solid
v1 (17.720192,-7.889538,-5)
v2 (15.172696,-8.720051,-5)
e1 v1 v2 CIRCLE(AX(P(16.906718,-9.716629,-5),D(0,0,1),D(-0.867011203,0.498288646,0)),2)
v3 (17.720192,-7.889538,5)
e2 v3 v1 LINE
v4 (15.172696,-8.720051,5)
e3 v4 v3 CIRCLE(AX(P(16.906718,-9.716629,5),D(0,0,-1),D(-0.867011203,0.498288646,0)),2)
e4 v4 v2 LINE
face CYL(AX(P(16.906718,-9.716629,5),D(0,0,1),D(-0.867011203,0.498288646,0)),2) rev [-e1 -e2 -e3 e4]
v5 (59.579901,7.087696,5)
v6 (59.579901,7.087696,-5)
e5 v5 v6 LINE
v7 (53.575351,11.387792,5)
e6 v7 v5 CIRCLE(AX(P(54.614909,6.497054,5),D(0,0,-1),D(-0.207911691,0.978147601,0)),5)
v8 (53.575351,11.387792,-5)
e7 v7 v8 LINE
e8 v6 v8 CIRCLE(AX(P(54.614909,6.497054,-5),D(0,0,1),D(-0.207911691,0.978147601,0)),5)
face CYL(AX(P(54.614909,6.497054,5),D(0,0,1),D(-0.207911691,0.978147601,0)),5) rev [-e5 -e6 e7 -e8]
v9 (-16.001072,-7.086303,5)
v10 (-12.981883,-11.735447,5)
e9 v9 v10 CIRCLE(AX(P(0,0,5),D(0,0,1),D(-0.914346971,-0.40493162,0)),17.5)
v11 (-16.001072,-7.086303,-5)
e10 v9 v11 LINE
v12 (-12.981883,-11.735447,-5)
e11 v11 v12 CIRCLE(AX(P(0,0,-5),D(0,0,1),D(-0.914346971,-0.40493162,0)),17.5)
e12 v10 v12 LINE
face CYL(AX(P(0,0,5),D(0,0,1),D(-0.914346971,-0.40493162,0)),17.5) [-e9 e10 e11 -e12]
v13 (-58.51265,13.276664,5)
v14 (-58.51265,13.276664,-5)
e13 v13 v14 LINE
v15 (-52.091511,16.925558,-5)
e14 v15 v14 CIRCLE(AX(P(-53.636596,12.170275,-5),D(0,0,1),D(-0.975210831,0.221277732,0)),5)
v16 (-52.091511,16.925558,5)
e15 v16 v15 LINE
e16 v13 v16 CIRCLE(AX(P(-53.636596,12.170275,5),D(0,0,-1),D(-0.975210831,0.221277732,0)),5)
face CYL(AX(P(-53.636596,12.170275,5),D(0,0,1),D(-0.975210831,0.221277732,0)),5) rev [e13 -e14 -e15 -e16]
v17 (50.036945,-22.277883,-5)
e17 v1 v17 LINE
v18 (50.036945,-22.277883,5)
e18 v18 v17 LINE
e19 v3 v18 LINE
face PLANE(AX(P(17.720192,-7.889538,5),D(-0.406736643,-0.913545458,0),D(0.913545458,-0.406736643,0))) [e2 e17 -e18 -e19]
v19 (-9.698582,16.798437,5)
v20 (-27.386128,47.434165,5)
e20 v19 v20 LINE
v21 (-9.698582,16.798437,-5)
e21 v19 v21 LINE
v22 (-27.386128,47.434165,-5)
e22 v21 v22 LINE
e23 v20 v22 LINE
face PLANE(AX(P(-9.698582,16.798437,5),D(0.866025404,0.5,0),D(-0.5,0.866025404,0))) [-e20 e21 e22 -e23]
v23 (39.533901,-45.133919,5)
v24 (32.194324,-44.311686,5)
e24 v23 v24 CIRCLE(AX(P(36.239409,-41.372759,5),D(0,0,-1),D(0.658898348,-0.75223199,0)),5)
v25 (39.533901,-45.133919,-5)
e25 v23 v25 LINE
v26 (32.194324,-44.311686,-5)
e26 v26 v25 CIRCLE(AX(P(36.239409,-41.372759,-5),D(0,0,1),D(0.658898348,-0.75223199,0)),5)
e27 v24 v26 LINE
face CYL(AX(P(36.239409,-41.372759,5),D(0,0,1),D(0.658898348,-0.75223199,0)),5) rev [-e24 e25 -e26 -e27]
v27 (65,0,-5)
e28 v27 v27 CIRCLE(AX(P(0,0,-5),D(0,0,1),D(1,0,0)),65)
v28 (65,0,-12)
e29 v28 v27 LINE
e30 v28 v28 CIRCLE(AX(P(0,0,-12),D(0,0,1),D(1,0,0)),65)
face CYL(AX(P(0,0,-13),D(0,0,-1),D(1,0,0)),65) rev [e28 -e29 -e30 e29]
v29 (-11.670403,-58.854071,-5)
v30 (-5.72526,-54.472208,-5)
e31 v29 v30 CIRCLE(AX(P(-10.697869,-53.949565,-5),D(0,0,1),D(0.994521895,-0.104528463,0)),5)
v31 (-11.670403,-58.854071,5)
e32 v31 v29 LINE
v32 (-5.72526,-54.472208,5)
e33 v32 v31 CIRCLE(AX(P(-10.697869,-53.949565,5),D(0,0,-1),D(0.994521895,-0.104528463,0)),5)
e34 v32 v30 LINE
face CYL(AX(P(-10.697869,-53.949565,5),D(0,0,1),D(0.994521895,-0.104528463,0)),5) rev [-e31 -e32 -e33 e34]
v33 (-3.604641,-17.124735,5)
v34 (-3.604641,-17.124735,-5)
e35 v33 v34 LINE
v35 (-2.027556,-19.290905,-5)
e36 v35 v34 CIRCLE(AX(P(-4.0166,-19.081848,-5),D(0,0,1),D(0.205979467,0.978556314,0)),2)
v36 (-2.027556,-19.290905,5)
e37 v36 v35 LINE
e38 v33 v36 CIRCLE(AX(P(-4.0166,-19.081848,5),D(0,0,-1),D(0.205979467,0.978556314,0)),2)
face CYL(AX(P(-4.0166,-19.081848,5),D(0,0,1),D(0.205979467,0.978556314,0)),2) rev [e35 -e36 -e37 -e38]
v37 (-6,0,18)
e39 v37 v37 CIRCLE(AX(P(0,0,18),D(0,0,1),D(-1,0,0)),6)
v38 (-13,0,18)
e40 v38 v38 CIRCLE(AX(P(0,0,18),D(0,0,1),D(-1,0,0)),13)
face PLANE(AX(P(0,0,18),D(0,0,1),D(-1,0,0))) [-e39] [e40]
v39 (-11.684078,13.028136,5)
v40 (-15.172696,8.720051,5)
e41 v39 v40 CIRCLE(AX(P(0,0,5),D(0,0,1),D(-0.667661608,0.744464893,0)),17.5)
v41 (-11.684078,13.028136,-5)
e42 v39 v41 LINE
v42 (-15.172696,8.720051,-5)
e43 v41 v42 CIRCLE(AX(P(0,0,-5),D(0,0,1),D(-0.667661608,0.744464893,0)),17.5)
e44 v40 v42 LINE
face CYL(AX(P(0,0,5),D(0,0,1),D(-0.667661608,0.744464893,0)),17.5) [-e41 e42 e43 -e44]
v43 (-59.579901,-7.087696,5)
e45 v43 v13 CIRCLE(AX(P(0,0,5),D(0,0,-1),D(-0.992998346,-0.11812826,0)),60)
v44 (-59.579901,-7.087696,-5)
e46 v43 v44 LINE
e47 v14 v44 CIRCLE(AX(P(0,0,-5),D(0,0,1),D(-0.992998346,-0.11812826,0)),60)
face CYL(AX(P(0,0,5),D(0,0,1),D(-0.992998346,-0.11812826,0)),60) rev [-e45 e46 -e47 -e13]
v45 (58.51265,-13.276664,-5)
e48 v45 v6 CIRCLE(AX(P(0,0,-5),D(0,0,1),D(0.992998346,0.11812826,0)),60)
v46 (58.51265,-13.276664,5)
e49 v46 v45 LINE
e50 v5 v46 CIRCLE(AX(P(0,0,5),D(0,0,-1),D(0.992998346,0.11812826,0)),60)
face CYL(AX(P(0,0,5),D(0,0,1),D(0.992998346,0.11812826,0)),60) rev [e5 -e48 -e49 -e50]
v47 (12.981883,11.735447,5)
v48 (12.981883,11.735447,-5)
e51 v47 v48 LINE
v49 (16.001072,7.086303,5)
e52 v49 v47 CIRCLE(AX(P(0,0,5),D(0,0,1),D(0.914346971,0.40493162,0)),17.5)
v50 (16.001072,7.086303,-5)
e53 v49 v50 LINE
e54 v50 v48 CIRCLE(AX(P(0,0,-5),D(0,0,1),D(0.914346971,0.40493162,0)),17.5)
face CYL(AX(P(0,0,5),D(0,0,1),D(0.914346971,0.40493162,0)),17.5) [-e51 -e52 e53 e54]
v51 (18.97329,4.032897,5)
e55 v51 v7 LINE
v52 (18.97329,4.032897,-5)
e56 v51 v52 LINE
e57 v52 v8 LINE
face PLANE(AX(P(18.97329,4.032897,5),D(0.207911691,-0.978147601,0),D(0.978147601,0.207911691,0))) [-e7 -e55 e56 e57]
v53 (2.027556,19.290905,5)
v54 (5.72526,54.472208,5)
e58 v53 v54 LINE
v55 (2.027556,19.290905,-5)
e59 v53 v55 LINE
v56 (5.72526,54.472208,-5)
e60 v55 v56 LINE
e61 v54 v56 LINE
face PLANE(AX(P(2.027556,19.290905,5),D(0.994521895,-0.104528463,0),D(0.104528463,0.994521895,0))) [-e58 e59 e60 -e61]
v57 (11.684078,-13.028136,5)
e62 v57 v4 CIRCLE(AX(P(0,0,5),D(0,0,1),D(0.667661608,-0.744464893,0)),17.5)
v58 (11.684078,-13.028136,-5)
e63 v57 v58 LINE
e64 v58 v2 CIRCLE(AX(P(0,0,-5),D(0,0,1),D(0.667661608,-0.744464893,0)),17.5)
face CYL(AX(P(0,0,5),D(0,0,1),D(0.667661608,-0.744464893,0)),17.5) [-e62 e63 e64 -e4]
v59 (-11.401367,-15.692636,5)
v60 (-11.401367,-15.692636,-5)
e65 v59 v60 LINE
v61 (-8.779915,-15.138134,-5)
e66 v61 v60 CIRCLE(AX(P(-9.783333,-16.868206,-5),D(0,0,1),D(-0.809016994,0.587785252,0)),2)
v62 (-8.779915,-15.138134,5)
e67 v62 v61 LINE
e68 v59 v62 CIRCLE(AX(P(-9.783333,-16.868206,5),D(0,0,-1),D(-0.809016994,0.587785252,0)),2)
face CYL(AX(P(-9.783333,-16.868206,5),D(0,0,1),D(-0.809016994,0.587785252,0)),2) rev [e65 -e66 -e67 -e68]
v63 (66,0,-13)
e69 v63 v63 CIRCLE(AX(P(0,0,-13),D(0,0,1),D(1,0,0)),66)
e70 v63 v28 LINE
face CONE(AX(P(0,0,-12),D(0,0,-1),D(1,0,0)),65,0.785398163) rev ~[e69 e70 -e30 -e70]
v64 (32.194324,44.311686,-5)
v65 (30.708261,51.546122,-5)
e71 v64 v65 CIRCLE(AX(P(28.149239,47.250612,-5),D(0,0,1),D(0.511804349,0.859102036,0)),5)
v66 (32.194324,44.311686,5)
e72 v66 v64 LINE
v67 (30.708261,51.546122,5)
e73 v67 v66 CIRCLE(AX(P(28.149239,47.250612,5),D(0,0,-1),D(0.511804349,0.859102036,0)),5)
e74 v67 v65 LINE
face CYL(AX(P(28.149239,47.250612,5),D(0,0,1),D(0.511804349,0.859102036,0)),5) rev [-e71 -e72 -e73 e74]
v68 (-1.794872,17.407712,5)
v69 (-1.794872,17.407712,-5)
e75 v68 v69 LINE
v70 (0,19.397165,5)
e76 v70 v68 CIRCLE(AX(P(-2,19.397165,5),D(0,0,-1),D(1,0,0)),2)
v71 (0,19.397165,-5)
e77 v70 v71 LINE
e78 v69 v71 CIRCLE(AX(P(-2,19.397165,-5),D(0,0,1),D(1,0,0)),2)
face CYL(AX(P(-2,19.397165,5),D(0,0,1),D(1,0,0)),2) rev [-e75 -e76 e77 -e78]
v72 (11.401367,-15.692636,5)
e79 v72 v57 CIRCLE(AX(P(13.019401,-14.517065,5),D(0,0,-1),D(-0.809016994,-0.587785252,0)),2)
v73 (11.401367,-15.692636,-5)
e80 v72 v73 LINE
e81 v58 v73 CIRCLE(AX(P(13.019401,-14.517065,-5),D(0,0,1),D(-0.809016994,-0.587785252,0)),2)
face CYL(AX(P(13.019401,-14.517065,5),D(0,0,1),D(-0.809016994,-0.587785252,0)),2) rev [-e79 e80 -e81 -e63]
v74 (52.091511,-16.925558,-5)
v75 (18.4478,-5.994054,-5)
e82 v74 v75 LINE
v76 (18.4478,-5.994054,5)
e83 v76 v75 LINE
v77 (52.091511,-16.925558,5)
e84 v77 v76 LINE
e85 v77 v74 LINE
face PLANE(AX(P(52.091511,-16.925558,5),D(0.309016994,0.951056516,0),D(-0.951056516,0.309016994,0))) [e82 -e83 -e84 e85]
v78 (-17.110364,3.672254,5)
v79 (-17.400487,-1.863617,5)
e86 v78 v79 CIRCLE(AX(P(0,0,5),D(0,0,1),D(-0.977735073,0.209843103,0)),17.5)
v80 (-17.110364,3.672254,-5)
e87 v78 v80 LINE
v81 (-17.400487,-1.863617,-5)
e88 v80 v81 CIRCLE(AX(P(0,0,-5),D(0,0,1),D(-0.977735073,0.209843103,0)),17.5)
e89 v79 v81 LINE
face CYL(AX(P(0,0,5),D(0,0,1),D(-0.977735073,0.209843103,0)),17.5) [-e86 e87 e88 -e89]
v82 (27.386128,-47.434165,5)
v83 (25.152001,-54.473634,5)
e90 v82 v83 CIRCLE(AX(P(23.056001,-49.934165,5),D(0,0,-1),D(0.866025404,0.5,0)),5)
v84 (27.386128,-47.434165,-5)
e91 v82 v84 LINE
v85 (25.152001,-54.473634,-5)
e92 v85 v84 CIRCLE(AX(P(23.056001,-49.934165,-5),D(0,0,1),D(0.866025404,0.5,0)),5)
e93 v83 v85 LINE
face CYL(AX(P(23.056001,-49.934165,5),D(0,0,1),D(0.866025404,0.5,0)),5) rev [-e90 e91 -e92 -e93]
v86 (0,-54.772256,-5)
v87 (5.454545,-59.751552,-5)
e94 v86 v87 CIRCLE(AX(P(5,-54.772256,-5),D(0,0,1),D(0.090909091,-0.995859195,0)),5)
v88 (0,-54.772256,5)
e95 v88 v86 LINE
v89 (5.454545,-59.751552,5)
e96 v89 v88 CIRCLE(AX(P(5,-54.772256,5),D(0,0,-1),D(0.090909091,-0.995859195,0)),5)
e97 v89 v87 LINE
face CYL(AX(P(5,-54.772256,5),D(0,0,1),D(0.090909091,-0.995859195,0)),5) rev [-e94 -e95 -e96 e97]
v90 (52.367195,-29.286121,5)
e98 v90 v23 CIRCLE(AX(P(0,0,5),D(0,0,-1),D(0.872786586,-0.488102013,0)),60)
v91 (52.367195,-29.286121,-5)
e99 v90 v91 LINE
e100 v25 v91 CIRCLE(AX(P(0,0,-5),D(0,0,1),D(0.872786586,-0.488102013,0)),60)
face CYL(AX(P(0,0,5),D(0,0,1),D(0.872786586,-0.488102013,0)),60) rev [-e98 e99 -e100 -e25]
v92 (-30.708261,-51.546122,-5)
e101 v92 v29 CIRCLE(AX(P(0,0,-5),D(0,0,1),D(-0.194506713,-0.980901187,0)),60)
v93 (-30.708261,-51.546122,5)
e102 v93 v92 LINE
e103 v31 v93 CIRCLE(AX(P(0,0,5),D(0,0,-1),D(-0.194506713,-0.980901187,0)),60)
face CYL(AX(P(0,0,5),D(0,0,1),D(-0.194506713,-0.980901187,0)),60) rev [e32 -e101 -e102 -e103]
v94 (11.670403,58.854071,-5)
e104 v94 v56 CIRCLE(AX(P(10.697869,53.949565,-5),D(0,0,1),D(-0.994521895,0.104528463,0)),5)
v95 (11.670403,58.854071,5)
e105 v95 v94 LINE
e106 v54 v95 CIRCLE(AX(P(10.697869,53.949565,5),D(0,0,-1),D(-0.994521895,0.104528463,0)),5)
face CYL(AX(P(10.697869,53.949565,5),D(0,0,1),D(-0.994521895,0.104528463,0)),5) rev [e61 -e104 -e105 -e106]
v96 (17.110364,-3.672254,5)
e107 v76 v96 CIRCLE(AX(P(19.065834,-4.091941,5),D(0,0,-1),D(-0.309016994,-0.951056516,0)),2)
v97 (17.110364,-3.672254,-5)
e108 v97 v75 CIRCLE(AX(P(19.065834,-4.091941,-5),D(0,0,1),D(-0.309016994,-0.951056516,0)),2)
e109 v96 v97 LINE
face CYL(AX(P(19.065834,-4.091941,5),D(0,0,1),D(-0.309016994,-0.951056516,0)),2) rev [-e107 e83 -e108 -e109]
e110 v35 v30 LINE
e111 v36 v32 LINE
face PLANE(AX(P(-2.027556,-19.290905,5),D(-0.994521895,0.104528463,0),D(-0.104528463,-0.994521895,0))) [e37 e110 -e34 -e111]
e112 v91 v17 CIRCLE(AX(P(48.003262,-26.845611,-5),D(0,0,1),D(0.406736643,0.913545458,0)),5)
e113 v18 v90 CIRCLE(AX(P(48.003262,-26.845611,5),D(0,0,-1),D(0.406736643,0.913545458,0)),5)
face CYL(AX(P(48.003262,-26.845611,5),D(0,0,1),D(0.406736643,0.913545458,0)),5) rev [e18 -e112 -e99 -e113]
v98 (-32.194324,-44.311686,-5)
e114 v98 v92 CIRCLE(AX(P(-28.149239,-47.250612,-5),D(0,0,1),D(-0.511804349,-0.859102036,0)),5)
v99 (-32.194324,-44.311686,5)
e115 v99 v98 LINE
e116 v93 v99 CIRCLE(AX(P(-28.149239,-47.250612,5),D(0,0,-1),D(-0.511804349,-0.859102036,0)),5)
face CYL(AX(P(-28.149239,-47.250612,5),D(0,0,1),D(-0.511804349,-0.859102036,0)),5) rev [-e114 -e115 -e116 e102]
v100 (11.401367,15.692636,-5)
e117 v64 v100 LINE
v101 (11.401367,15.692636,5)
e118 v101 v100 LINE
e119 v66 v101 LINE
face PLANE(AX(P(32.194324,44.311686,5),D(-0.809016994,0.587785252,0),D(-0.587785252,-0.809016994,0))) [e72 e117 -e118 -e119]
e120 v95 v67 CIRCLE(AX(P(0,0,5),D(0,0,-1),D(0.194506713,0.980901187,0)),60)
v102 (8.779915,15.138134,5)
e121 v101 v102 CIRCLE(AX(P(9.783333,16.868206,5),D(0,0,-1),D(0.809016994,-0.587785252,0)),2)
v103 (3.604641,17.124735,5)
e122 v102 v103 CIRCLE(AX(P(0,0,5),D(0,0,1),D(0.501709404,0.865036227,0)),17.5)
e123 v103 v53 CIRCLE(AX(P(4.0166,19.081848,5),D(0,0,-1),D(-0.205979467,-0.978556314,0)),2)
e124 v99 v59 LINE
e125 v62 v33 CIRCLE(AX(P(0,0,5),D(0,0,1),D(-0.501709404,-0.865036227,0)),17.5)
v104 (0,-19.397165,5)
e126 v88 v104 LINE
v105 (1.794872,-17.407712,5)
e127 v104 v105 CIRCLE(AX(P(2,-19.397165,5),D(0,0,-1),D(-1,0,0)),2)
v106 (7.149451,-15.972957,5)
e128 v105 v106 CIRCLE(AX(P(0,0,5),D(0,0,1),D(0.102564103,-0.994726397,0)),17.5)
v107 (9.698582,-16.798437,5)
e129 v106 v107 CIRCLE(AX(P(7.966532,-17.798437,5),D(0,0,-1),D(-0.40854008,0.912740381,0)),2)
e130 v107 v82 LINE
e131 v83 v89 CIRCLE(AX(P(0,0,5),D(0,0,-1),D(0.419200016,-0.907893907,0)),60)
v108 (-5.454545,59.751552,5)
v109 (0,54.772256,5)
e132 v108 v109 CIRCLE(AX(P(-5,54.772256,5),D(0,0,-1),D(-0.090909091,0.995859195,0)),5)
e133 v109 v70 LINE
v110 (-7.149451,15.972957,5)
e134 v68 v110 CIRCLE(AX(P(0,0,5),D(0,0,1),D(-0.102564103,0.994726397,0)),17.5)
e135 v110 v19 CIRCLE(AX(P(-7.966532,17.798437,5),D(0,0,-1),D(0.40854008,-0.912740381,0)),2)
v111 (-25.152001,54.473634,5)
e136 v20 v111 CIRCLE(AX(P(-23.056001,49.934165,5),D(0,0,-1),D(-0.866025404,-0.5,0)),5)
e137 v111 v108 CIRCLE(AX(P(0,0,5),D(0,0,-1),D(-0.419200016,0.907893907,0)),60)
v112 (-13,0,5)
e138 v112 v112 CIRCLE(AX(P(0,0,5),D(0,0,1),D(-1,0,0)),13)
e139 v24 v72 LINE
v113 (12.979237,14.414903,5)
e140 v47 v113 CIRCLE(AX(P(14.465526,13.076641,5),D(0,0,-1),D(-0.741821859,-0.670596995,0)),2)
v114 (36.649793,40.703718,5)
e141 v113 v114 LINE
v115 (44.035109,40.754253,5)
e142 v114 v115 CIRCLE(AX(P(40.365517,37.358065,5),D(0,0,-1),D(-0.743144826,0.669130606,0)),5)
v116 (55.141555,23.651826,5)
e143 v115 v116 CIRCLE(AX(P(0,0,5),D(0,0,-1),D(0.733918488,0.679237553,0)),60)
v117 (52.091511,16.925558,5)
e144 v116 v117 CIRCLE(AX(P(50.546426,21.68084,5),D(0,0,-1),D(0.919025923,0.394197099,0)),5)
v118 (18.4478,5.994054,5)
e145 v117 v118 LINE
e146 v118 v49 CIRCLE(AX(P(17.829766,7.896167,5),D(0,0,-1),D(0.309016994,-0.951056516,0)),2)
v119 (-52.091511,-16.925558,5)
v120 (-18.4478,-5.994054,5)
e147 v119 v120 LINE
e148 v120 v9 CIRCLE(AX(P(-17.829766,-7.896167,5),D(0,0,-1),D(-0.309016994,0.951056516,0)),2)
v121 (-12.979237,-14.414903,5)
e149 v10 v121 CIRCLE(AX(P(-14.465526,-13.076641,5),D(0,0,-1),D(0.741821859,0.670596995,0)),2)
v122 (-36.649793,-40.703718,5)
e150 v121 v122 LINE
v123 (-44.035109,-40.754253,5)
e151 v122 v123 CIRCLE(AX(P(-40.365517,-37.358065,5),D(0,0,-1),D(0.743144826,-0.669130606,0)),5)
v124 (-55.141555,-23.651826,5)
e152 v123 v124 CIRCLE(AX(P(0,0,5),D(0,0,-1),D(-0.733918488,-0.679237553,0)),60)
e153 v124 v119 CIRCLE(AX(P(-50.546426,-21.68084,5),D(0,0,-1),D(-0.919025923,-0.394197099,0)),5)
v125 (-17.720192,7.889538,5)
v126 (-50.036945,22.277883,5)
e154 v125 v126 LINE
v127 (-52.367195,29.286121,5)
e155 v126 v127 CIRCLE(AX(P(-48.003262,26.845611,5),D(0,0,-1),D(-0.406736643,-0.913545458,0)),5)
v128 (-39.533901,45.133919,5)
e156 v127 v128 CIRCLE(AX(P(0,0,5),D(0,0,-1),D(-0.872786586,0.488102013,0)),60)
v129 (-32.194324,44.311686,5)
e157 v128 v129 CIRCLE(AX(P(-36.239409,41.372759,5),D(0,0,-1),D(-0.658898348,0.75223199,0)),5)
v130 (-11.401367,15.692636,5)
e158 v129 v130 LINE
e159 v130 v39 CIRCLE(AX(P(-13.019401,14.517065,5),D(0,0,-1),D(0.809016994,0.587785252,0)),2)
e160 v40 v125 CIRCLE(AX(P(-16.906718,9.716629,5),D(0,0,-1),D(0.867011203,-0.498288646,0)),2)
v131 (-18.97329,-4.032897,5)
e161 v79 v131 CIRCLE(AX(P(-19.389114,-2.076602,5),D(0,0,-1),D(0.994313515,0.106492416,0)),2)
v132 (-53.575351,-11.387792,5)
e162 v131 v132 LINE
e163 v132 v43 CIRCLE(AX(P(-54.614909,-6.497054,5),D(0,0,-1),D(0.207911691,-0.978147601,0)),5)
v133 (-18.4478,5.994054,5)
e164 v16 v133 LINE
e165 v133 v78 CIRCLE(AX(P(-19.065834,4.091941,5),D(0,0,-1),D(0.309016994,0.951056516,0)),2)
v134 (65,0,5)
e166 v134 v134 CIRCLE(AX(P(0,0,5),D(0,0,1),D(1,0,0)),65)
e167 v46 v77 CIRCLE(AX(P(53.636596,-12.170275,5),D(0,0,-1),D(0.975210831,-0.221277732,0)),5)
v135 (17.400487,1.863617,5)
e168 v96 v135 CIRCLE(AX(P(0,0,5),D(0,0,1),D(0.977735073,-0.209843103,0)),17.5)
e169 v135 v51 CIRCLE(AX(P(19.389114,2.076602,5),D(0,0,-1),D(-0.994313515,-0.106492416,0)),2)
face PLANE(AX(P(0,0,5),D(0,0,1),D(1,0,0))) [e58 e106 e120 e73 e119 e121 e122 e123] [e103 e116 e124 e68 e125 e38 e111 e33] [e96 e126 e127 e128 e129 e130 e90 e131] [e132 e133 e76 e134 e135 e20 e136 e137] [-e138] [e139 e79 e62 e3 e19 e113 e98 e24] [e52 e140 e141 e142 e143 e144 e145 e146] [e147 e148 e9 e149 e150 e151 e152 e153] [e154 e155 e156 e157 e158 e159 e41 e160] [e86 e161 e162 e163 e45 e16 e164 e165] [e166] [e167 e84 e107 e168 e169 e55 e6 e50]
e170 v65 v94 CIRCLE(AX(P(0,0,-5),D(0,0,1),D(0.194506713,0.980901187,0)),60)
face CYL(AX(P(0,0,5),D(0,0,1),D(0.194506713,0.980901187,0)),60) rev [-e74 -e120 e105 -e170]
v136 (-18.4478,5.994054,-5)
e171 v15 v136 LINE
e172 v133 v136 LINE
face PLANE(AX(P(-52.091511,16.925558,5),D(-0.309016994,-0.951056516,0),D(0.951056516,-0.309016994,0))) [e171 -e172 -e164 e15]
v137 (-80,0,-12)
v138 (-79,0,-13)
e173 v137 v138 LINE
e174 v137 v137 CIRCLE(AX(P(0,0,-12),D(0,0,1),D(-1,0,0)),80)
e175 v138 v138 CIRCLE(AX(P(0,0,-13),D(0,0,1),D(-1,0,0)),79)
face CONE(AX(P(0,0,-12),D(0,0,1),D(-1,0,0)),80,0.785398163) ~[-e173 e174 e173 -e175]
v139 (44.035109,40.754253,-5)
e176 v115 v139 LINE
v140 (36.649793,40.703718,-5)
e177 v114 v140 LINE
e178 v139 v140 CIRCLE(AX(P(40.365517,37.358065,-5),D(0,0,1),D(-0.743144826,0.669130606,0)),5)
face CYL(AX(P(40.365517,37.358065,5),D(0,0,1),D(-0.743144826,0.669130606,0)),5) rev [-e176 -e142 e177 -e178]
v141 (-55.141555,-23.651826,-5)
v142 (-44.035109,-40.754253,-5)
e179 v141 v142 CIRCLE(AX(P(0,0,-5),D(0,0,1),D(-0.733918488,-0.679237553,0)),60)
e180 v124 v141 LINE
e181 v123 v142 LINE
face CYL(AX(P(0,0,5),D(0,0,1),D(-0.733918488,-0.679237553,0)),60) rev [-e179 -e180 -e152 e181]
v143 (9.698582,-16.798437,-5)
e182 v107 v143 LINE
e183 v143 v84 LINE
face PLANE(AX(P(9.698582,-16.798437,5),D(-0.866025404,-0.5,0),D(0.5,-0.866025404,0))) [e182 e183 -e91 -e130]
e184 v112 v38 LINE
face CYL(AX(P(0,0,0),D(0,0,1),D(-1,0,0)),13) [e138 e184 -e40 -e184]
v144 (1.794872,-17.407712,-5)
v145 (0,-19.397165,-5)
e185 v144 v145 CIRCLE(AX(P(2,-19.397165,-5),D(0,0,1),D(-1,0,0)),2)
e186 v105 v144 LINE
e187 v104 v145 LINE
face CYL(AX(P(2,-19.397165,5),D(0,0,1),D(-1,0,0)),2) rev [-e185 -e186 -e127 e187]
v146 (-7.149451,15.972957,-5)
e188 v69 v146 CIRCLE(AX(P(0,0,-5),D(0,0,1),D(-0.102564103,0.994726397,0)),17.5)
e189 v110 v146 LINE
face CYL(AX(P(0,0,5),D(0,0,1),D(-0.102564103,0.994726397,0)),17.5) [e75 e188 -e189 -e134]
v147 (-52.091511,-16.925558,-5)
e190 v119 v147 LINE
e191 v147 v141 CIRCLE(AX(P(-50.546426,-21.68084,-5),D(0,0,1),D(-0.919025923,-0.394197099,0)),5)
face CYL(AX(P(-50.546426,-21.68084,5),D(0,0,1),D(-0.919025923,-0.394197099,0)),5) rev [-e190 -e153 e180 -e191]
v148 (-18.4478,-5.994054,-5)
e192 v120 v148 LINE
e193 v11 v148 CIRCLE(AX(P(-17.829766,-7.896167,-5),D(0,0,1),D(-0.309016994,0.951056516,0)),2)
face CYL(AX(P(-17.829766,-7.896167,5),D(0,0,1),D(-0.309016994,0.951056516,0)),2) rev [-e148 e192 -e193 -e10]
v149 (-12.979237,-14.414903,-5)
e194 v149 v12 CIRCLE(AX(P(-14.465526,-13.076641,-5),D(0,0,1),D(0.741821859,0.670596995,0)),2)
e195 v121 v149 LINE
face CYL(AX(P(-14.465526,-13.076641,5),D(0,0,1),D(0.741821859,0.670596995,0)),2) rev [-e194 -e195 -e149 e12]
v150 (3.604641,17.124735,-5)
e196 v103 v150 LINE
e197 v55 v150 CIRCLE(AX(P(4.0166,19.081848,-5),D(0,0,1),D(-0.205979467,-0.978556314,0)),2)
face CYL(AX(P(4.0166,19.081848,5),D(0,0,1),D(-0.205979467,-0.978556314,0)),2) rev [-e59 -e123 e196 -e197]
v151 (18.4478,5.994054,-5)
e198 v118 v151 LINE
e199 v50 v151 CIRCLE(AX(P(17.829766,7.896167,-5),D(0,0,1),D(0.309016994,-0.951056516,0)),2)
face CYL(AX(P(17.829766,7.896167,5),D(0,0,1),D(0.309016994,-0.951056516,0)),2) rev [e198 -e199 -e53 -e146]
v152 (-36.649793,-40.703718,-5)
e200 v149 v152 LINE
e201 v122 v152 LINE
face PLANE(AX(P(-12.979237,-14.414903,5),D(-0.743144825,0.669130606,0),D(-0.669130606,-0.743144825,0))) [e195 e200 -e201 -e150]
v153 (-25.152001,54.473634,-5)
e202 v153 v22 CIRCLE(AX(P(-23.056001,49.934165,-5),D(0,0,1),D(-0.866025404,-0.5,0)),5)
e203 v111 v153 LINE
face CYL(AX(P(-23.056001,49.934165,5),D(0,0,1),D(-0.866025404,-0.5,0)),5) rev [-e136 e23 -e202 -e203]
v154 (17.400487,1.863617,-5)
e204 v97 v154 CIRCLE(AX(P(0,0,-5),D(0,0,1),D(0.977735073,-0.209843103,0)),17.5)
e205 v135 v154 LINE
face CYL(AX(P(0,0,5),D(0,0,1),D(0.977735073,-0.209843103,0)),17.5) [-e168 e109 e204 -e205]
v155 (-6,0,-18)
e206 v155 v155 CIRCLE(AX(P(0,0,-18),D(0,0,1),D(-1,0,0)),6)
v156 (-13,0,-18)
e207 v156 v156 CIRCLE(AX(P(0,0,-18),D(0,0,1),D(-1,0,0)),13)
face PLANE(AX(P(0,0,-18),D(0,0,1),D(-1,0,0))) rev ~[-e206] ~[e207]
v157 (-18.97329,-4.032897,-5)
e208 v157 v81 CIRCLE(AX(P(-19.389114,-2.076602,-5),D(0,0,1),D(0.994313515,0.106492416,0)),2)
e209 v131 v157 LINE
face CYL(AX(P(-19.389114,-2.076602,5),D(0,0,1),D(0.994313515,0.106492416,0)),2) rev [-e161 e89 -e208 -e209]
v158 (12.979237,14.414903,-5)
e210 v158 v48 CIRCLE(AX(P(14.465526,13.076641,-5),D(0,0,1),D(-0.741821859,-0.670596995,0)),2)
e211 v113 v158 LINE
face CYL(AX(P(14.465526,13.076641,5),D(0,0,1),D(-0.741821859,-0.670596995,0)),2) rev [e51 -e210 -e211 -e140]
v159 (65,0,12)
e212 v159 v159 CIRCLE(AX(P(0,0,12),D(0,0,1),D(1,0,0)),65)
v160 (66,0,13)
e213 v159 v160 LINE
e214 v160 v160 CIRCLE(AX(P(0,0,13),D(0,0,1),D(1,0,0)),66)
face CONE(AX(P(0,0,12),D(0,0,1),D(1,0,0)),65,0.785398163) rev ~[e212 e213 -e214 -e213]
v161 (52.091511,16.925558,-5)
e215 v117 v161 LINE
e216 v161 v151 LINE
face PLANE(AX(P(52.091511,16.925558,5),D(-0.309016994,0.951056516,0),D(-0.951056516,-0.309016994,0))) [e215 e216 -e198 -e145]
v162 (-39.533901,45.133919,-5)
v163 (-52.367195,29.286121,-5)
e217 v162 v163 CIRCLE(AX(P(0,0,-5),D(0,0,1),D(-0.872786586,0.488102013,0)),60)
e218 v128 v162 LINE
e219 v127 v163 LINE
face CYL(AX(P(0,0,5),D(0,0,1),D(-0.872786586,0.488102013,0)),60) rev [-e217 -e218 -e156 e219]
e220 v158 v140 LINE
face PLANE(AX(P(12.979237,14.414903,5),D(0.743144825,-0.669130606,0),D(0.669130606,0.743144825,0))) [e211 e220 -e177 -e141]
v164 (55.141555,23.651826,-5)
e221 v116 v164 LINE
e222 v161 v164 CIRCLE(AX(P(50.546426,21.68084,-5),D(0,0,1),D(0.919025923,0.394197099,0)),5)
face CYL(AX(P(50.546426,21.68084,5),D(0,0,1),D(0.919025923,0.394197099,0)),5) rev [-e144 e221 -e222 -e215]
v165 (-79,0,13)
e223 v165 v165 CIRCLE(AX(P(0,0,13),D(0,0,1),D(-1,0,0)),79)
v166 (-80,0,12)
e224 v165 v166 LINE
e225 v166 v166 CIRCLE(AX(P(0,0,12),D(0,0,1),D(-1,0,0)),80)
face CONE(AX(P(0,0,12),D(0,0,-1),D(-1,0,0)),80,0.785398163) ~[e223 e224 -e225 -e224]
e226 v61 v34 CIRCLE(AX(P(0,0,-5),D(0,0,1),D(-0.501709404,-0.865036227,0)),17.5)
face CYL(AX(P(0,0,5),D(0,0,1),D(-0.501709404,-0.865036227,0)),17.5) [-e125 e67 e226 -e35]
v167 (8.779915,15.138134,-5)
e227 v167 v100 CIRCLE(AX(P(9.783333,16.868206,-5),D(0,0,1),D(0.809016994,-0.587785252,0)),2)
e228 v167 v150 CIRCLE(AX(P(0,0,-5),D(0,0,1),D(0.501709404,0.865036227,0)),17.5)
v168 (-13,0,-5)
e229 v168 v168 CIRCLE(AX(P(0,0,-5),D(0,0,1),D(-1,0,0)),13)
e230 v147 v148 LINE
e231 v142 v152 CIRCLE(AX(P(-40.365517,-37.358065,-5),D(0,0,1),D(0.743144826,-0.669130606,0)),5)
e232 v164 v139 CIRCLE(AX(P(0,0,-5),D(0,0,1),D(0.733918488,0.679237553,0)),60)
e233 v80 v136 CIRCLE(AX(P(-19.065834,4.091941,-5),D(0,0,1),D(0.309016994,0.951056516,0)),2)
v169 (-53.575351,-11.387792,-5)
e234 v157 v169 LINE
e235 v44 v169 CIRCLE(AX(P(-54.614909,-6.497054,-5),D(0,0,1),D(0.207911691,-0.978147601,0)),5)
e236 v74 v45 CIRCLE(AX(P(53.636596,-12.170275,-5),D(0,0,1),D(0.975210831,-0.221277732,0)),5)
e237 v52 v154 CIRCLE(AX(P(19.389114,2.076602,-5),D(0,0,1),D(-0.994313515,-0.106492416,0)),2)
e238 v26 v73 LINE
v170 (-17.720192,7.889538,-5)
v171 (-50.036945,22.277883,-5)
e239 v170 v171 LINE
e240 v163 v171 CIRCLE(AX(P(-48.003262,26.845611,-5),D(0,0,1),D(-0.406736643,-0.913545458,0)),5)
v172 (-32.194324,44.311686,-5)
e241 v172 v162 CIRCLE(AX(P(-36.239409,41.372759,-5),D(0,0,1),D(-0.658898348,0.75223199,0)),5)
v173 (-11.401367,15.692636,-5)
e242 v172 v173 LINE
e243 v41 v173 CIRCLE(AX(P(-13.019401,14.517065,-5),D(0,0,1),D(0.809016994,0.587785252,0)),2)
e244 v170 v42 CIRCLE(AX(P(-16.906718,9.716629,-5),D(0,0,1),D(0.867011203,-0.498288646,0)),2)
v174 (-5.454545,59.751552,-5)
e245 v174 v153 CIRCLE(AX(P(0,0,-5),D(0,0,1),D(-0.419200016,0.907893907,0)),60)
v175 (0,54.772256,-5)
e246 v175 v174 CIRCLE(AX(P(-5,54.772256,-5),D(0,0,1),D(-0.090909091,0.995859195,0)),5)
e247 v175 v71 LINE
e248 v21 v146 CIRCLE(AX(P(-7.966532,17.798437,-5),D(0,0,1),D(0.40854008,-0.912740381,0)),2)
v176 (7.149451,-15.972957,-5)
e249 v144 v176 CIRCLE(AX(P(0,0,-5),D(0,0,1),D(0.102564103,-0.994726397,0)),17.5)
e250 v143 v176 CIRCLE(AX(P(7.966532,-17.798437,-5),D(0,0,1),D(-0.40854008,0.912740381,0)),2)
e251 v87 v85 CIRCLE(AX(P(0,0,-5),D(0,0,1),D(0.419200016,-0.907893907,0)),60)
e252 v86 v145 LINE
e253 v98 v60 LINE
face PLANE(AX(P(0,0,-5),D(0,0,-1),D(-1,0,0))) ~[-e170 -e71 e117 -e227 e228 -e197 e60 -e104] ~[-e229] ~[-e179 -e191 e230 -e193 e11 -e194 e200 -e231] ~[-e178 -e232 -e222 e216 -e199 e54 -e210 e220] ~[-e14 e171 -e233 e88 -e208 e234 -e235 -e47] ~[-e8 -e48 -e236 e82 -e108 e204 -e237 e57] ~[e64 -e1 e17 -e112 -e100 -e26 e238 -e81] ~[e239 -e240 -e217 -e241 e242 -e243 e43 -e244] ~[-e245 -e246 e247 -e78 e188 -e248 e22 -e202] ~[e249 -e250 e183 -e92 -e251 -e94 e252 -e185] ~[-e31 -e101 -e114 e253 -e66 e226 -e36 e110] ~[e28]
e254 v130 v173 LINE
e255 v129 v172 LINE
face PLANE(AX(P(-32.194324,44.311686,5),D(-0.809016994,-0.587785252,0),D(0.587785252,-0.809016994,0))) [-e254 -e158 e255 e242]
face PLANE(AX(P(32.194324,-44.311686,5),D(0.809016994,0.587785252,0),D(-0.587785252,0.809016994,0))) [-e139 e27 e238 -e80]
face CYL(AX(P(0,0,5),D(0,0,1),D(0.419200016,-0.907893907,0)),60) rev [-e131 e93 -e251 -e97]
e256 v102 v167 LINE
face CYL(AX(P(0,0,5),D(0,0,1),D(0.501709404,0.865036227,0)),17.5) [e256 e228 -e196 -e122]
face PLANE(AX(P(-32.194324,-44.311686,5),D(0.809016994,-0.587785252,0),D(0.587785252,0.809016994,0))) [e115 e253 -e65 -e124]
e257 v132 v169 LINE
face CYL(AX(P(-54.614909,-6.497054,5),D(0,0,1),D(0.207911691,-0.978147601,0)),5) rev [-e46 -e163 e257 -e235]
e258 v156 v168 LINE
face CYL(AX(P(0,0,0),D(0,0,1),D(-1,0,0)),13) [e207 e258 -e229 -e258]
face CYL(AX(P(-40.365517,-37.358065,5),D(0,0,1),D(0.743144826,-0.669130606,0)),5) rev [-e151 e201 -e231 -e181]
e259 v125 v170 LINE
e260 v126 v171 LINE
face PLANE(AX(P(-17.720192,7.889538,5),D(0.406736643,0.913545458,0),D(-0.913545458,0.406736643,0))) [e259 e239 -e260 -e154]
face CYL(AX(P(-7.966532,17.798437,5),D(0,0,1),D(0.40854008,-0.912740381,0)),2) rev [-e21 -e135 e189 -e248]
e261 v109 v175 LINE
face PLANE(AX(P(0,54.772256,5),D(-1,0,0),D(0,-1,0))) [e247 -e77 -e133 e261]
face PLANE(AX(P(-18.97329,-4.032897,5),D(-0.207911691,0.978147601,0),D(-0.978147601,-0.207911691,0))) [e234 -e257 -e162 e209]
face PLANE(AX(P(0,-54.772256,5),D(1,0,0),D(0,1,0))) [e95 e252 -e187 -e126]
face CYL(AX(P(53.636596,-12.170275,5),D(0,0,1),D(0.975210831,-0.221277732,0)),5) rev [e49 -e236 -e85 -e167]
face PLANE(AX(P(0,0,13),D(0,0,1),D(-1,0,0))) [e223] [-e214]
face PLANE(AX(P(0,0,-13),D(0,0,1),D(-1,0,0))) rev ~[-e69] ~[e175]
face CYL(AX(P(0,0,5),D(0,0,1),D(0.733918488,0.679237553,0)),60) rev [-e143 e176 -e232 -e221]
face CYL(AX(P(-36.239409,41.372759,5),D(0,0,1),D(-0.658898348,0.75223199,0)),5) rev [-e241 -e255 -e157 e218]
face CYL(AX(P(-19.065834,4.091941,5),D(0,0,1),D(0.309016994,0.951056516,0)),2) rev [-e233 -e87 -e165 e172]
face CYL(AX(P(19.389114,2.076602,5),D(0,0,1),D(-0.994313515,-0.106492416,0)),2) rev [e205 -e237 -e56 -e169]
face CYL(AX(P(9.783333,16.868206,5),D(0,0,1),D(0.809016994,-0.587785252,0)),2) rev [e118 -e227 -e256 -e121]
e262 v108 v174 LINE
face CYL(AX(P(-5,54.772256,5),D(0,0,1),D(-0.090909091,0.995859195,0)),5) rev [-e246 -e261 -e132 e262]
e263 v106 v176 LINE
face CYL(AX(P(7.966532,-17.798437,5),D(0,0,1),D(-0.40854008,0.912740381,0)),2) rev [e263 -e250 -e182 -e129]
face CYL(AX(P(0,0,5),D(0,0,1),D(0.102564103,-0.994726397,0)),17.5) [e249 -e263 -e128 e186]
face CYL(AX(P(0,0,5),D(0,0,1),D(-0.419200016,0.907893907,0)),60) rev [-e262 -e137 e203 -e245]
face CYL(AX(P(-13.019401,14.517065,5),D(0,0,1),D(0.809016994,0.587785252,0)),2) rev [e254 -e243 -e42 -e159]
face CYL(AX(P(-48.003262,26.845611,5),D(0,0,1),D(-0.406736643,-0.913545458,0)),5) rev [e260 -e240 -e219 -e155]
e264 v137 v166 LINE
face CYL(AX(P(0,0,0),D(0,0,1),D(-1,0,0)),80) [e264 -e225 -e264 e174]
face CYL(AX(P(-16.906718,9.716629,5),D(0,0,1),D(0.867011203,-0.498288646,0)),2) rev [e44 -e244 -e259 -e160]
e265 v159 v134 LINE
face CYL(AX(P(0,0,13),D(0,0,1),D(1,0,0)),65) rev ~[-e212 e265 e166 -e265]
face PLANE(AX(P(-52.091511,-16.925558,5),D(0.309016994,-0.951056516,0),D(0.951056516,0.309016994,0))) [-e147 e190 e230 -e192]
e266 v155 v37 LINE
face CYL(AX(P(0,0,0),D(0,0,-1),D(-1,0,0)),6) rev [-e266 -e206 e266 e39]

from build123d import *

# Parameters (mm, degrees)
SKETCH1_R           = 80
SKETCH1_R_2         = 6
BOSS_EXTRUDE1_DEPTH = 13
SKETCH2_R           = 65
CUT_EXTRUDE1_DEPTH  = 8
SKETCH3_R           = 13
SKETCH3_R_2         = 6
BOSS_EXTRUDE2_DEPTH = 18
CHAMFER1_SIZE       = 1
CUT_EXTRUDE2_DEPTH  = 116.451288429
CIRPATTERN1_COUNT   = 10


with BuildPart() as part:
    # Sketch1 → Boss-Extrude1 (new, symmetric)
    with BuildSketch(Plane.XY):
        with Locations(Location((0, 0, 0), (0, 0, 180))):
            Circle(SKETCH1_R)
        with Locations(Location((0, 0, 0), (0, 0, 180))):
            Circle(SKETCH1_R_2, mode=Mode.SUBTRACT)
    extrude(amount=BOSS_EXTRUDE1_DEPTH, both=True)

    # Sketch2 → Cut-Extrude1 (cut)
    with BuildSketch(Plane.XY.offset(13)):
        Circle(SKETCH2_R)
    cut_extrude1 = extrude(amount=-CUT_EXTRUDE1_DEPTH, mode=Mode.SUBTRACT)

    # Mirror1: Cut-Extrude1 across plane
    add(cut_extrude1.mirror(Plane.XY), mode=Mode.SUBTRACT)

    # Sketch3 → Boss-Extrude2 (add, symmetric)
    with BuildSketch(Plane.XY):
        with Locations(Location((0, 0, 0), (0, 0, 180))):
            Circle(SKETCH3_R)
        with Locations(Location((0, 0, 0), (0, 0, 180))):
            Circle(SKETCH3_R_2, mode=Mode.SUBTRACT)
    extrude(amount=BOSS_EXTRUDE2_DEPTH, both=True)

    # Chamfer1
    chamfer1_edges = [part.edges().sort_by_distance(p)[0] for p in [
        (-65, 0, 13),
        (-65, 0, -13),
        (80, 0, -13),
        (80, 0, 13),
    ]]
    chamfer(chamfer1_edges, length=CHAMFER1_SIZE)

    # Sketch7 → Cut-Extrude2 (cut, through all)
    with BuildSketch(Plane.XY.offset(5)):
        with BuildLine():
            Line((0, 54.772255751), (0, 19.397164741))
            ThreePointArc((0, 19.397164741), (-0.515032591, 18.057436487), (-1.794871795, 17.407711947))
            ThreePointArc((-1.794871795, 17.407711947), (-4.529333289, 16.90370196), (-7.149451403, 15.972956666))
            ThreePointArc((-7.149451403, 15.972956666), (-8.582686936, 15.895715021), (-9.698582371, 16.798437427))
            Line((-9.698582371, 16.798437427), (-27.386127875, 47.434164903))
            ThreePointArc((-27.386127875, 47.434164903), (-27.821744262, 51.446675992), (-25.152000934, 54.473634439))
            ThreePointArc((-25.152000934, 54.473634439), (-15.529142706, 57.955549577), (-5.454545455, 59.751551728))
            ThreePointArc((-5.454545455, 59.751551728), (-1.629000688, 58.46500048), (0, 54.772255751))
        make_face()
    cut_extrude2 = extrude(amount=-CUT_EXTRUDE2_DEPTH, mode=Mode.SUBTRACT)

    # CirPattern1: Cut-Extrude2 ×10 about axis
    cirpattern1_axis = Axis((0, 0, 0), (0, 0, 1))
    for i in range(1, CIRPATTERN1_COUNT):
        add(cut_extrude2.rotate(cirpattern1_axis, i * 360 / CIRPATTERN1_COUNT), mode=Mode.SUBTRACT)


solid = part.part
